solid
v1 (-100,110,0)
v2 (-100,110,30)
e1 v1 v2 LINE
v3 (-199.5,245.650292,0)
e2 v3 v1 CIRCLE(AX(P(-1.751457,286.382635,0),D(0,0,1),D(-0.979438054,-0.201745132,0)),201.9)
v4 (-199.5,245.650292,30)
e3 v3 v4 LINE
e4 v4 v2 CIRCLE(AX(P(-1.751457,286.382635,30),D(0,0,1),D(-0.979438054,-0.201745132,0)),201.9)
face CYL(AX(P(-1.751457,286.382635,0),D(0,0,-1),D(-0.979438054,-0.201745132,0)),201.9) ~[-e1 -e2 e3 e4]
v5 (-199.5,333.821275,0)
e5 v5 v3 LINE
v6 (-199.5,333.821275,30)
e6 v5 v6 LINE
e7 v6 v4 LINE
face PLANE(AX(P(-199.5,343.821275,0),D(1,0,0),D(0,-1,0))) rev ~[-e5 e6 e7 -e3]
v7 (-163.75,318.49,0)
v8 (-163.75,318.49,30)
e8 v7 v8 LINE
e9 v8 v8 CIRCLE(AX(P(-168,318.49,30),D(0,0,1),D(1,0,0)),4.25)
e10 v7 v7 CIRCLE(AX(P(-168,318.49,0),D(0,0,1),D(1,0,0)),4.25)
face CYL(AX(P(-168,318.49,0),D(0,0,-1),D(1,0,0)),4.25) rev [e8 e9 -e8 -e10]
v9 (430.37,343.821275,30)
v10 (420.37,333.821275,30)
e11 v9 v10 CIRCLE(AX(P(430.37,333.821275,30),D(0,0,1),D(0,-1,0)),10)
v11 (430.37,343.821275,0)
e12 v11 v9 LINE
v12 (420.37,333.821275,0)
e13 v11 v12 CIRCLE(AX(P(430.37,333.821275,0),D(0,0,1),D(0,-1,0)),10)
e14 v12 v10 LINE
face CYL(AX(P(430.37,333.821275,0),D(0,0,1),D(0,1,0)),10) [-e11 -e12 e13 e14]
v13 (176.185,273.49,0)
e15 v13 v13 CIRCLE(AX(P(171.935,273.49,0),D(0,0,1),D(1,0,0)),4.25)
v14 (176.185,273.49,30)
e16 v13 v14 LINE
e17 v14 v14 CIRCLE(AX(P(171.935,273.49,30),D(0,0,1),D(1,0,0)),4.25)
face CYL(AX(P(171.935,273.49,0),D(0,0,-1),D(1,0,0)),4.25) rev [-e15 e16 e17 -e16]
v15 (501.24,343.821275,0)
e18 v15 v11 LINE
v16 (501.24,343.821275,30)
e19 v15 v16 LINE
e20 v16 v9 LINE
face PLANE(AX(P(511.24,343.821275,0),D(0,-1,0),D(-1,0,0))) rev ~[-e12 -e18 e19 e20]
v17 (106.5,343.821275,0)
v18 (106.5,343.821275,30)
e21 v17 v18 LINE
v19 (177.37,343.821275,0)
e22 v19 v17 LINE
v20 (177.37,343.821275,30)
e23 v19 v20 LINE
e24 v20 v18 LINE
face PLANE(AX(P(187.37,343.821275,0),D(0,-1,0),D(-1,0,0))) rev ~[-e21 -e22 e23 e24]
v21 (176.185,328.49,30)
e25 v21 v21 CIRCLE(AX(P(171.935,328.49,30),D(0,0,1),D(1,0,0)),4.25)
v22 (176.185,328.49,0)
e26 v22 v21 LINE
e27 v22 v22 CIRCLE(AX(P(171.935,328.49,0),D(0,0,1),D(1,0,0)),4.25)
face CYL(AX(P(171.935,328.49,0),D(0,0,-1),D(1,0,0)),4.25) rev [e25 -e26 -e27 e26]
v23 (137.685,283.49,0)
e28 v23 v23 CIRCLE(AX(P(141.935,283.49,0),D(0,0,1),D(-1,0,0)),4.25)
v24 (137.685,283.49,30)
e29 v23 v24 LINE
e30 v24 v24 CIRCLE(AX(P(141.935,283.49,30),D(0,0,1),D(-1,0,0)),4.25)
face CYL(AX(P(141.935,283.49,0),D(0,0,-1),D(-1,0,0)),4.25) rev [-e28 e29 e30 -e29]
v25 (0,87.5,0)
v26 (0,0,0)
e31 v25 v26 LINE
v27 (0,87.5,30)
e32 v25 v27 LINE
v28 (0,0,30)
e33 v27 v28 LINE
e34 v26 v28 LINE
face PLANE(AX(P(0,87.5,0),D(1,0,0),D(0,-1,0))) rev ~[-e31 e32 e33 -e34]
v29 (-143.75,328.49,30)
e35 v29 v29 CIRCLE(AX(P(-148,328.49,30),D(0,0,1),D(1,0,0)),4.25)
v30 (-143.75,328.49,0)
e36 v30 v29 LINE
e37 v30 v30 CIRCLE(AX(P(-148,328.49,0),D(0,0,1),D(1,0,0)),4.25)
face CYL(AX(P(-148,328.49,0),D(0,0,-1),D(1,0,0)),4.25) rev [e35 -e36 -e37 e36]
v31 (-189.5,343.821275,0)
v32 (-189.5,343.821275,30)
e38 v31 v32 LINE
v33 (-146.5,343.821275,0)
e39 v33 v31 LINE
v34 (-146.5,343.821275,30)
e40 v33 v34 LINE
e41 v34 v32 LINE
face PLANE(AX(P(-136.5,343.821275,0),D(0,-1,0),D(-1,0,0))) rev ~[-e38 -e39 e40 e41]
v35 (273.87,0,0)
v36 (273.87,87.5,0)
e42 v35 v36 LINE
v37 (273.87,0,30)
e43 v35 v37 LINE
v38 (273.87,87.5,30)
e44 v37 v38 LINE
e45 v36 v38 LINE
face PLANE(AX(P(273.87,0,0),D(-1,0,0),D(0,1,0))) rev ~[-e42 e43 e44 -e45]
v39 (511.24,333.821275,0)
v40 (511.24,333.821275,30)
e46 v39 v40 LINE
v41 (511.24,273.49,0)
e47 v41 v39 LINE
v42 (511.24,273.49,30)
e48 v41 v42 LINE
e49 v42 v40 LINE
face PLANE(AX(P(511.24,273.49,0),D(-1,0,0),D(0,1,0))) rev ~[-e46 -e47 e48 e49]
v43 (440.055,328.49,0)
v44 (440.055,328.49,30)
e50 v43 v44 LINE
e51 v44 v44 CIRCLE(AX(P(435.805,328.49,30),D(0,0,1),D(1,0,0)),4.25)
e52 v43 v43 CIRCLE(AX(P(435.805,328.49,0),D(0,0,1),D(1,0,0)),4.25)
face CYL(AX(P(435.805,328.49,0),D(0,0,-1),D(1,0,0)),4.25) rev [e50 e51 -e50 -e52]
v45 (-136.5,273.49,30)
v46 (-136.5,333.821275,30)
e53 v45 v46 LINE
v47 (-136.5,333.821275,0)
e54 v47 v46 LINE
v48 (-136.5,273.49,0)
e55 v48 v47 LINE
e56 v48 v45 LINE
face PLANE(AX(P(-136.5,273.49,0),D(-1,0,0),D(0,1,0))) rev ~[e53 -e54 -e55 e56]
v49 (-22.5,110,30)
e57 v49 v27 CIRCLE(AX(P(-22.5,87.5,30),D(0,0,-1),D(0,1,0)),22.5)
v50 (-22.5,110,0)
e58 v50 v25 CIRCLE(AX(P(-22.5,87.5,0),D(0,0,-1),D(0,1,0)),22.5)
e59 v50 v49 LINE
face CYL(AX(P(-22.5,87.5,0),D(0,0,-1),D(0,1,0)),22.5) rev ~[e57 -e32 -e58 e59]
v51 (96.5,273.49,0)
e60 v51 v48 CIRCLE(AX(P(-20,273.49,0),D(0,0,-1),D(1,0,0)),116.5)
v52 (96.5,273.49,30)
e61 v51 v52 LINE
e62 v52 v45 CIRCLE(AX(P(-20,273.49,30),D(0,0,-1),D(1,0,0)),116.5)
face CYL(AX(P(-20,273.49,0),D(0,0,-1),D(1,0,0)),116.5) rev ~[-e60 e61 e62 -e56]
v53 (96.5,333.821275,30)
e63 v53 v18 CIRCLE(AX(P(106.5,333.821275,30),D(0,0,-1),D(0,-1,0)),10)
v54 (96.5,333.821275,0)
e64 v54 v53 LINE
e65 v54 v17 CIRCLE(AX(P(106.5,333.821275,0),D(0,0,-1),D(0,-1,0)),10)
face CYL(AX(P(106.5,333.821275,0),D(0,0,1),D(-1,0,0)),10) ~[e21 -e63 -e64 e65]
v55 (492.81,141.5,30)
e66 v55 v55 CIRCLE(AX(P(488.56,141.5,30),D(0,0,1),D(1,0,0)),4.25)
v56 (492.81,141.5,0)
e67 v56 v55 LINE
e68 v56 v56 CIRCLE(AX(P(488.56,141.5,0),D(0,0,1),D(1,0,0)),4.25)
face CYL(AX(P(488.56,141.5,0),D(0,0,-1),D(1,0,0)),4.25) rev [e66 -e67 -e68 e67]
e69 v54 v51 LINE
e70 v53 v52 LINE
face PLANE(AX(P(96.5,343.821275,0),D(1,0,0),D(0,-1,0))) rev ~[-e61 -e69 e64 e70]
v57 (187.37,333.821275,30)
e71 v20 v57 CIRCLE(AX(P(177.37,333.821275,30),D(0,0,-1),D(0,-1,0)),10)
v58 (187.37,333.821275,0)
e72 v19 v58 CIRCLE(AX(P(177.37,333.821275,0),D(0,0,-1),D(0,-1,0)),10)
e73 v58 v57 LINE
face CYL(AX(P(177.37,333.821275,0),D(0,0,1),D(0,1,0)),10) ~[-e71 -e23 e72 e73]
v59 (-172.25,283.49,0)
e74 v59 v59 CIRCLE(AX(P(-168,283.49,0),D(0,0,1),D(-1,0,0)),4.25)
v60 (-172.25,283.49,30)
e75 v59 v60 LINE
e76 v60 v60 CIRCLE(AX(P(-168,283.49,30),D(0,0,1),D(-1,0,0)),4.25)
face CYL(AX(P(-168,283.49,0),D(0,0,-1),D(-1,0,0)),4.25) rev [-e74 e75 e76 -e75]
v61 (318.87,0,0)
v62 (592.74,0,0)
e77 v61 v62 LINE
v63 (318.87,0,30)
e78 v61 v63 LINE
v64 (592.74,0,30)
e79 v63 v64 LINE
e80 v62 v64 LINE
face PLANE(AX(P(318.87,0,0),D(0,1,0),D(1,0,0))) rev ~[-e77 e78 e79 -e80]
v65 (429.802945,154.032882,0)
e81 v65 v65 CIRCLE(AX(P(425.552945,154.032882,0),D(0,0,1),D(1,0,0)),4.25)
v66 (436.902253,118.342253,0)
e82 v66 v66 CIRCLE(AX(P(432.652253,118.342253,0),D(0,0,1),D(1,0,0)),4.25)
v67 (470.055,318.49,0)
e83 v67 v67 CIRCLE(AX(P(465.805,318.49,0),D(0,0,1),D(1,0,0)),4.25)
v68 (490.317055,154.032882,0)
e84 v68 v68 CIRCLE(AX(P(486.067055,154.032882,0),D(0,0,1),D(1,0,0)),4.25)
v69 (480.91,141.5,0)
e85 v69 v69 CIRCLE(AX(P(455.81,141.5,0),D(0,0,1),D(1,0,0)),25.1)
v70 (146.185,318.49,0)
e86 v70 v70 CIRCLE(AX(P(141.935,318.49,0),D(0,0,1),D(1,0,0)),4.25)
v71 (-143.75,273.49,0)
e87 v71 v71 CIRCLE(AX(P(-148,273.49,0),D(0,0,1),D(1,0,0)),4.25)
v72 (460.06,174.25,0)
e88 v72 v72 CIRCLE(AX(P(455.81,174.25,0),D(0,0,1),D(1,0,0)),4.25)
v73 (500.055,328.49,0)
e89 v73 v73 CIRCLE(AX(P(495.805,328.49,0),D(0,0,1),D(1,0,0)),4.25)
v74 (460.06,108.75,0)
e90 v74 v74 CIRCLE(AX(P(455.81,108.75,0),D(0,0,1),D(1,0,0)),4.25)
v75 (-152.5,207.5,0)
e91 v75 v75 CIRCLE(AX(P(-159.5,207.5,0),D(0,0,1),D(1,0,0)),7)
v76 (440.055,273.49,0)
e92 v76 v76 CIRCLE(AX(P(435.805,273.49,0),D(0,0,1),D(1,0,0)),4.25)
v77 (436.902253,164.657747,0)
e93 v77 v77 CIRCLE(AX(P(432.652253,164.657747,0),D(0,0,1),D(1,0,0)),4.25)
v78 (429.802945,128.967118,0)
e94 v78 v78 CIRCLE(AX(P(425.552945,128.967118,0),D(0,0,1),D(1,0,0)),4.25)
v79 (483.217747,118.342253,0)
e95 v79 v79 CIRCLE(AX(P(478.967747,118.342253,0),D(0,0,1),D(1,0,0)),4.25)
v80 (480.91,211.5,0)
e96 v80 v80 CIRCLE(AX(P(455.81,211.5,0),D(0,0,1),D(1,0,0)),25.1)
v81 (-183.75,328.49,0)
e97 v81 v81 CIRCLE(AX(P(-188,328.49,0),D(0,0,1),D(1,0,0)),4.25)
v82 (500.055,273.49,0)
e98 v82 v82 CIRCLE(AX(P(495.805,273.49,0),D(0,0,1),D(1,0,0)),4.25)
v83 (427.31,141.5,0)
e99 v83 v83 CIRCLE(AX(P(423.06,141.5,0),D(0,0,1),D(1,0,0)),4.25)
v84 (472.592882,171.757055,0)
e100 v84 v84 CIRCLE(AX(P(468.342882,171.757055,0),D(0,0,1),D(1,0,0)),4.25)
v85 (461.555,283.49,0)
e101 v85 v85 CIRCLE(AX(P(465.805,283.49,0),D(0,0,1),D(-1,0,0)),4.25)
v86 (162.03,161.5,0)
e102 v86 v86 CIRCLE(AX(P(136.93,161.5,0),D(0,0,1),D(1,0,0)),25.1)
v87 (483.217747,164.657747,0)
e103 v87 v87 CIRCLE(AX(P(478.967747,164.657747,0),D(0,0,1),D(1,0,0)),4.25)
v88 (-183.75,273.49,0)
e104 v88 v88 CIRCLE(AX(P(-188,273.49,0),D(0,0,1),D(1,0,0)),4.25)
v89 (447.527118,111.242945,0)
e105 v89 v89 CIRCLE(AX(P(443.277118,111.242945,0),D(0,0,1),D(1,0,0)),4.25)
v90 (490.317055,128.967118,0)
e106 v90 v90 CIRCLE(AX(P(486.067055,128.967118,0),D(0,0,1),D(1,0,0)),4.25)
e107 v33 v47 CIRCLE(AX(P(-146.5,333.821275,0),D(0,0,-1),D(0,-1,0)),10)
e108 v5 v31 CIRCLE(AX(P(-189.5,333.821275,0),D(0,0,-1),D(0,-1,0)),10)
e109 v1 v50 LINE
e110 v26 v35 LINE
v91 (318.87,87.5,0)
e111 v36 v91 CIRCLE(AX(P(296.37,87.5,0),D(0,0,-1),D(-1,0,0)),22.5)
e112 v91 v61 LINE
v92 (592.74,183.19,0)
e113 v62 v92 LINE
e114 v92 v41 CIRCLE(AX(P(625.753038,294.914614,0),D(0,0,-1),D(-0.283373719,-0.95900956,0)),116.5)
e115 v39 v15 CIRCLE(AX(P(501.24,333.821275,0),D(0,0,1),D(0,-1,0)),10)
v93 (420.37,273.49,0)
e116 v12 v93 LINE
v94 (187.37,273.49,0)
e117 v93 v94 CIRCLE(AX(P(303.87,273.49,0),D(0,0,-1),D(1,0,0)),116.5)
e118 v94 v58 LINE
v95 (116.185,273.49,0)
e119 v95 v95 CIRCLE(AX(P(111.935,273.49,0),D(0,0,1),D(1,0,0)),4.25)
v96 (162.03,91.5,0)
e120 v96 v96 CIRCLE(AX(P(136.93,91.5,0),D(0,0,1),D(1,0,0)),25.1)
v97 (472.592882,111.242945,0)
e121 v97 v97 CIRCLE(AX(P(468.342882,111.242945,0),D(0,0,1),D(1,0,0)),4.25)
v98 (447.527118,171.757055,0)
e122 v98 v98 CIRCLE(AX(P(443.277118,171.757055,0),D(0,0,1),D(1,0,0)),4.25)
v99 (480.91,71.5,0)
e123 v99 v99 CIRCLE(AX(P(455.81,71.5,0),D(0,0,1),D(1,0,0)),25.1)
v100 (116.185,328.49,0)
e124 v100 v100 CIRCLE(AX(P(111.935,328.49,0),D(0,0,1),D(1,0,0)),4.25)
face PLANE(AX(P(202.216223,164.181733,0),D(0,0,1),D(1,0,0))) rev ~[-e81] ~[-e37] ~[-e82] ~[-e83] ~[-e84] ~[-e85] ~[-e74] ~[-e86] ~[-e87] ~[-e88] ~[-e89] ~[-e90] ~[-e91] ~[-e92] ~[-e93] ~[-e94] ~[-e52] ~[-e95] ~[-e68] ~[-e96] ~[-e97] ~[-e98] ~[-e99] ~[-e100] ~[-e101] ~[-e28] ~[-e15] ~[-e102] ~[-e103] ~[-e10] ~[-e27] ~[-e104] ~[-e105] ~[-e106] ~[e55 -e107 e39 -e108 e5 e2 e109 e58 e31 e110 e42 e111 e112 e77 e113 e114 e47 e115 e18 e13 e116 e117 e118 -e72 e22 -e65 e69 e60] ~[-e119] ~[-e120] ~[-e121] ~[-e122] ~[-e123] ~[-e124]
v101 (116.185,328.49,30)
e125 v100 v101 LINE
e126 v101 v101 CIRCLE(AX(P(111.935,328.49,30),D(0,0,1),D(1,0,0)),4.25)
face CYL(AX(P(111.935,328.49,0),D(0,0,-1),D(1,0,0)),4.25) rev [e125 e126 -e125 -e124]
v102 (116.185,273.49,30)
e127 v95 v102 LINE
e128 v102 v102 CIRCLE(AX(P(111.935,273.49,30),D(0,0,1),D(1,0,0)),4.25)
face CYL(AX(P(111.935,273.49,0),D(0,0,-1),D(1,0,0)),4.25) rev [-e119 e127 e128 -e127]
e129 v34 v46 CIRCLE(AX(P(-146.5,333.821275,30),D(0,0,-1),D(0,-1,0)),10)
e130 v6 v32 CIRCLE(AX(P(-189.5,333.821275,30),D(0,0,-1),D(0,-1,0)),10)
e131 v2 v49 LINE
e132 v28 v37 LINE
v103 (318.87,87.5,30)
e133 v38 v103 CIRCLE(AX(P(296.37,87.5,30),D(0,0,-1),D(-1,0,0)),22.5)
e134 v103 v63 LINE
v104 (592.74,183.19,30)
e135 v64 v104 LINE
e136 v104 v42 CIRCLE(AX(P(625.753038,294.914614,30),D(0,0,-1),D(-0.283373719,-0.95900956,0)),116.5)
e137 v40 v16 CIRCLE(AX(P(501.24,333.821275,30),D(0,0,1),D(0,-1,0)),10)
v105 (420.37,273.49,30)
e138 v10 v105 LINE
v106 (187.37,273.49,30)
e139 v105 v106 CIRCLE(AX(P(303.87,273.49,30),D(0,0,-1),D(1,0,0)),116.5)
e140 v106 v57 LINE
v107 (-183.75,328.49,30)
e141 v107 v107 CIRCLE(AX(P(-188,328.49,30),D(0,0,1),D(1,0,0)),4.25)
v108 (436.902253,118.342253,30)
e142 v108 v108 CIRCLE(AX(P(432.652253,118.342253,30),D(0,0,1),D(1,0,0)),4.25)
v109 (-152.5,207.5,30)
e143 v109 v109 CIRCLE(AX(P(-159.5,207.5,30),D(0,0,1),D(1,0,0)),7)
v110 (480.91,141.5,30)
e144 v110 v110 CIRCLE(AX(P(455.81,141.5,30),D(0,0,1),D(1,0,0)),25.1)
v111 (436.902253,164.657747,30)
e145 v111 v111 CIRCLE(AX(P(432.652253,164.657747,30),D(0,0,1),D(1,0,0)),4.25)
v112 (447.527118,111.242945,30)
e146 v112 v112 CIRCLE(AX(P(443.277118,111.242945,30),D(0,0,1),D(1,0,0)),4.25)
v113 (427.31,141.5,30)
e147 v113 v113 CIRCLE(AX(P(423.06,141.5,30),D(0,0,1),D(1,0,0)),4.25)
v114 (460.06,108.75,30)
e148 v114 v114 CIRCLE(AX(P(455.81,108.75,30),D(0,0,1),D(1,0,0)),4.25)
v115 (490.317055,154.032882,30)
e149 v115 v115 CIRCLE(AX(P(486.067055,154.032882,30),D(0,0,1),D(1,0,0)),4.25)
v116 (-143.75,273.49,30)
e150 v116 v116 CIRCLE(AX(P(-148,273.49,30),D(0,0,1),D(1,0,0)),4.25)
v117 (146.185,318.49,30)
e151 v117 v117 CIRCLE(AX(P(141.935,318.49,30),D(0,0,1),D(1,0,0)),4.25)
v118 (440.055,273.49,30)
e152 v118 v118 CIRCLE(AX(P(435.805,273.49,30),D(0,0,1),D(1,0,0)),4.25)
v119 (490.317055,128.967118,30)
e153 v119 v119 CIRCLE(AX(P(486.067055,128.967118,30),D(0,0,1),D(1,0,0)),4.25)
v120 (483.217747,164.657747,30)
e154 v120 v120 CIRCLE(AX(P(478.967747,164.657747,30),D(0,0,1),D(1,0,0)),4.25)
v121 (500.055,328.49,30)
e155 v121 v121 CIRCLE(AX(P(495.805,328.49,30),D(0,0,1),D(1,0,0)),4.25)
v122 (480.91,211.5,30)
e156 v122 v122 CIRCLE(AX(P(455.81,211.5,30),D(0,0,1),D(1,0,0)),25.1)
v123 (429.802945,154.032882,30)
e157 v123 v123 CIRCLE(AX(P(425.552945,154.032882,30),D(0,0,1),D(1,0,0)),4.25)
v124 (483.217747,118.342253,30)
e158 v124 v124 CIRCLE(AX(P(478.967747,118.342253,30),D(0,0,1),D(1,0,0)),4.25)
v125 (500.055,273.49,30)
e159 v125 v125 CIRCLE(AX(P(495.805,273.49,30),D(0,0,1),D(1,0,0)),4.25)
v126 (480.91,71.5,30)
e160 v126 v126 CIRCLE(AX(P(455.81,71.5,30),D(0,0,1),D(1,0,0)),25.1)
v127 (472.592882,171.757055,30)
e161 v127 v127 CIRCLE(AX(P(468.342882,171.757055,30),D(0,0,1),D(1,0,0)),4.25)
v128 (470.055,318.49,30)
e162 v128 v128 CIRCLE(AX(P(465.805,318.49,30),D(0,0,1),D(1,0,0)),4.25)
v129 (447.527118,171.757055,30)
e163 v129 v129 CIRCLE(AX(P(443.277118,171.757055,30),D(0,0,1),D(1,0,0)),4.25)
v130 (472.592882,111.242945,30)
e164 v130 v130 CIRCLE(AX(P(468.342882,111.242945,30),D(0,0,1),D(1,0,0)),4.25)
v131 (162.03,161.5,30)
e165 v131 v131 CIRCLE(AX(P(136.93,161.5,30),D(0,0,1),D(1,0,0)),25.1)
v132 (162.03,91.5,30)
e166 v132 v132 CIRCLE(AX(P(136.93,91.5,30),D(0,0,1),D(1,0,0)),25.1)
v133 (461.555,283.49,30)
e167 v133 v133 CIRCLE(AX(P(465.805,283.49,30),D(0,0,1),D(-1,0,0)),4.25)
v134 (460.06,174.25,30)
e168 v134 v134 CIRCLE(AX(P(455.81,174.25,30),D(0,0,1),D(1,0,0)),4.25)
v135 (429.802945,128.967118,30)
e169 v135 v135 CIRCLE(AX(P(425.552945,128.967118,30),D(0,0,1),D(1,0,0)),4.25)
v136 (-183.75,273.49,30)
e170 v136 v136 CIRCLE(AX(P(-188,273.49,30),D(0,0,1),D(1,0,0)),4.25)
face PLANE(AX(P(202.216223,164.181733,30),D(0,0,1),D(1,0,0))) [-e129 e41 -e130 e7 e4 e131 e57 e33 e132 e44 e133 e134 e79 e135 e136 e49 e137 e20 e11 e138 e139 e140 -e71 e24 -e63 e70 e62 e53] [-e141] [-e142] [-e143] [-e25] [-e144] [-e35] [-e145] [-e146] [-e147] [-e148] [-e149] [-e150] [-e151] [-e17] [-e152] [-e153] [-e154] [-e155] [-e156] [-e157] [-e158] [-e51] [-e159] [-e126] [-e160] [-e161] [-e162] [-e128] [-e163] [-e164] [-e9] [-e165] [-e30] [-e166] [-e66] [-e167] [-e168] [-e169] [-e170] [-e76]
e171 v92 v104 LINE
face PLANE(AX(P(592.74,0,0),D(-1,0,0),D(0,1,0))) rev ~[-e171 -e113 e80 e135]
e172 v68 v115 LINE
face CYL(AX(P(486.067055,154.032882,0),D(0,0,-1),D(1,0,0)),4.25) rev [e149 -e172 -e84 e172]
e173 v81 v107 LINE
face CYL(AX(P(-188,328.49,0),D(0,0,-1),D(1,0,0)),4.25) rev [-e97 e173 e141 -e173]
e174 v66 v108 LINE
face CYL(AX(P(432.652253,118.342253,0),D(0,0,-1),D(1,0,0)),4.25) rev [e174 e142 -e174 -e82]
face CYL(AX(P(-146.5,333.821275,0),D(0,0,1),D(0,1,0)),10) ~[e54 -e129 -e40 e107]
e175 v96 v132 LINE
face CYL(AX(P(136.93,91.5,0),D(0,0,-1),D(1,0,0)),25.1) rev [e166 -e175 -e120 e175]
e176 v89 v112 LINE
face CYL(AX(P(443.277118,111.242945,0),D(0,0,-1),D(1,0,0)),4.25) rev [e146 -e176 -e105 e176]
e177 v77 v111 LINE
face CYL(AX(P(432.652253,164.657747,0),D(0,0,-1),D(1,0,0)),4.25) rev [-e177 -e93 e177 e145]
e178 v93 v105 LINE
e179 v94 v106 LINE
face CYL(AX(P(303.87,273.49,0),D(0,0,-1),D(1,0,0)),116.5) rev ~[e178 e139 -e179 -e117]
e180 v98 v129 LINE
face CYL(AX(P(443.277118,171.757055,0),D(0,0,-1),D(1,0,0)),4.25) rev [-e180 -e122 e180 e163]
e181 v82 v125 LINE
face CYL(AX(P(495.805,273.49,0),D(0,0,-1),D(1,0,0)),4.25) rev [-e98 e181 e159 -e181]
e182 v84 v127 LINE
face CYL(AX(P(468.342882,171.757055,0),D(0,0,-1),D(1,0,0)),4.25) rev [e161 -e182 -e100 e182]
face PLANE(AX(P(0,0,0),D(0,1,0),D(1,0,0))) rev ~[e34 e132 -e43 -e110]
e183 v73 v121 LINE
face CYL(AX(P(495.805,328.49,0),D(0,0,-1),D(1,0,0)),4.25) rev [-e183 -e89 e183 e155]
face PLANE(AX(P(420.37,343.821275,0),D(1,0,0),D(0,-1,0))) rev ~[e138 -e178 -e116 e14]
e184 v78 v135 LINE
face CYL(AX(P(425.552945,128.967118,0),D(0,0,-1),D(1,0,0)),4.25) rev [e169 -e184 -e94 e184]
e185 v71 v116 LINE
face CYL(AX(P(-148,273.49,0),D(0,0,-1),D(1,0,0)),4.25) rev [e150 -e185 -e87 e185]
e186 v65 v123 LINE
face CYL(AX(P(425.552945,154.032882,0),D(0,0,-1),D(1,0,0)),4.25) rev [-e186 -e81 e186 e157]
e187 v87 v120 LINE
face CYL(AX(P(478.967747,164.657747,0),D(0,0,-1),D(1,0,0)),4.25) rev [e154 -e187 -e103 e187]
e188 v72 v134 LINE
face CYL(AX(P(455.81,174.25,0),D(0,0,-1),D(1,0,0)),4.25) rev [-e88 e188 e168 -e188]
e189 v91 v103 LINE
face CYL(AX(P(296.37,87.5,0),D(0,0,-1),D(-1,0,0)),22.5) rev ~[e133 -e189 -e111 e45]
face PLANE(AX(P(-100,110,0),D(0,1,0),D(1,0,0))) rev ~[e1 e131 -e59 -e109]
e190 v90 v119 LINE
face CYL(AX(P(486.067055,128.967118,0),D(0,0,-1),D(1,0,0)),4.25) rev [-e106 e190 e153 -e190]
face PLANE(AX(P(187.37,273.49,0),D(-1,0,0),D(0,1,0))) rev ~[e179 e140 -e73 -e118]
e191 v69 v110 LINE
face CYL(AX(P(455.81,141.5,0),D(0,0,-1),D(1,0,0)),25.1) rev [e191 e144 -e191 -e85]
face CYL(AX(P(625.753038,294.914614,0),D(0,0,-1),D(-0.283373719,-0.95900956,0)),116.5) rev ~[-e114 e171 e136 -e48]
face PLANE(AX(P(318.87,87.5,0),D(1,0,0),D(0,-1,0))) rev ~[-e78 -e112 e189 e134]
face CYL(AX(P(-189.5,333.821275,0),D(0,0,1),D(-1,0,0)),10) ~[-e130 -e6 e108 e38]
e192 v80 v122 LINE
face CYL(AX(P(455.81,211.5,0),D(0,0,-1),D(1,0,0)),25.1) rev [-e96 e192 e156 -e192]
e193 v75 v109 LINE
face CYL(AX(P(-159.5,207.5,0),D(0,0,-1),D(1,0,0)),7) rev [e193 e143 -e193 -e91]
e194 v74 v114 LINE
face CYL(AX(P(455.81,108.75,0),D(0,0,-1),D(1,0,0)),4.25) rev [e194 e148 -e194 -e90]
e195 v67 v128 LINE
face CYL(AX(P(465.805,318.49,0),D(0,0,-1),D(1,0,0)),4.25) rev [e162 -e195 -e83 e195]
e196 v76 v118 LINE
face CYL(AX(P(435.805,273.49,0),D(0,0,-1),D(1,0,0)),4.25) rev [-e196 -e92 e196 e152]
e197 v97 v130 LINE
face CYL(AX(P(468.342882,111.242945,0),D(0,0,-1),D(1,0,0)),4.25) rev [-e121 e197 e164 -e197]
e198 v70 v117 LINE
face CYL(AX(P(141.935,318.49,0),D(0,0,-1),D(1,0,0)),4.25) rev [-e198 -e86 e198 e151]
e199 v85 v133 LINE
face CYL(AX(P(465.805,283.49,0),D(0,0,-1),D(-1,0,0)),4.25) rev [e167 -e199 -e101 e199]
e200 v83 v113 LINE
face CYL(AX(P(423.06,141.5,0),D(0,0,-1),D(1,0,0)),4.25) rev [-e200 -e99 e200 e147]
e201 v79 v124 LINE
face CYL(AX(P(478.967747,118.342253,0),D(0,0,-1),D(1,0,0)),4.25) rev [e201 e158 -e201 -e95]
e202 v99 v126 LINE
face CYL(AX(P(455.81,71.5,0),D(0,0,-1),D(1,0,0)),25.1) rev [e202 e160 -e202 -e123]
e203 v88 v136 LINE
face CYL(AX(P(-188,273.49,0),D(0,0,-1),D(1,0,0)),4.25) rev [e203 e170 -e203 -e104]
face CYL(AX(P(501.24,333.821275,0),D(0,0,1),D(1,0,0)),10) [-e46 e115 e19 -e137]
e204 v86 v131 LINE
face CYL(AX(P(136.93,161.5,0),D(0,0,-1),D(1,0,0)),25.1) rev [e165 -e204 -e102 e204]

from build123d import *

# Parameters (mm, degrees)
SKETCH1_R           = 25.1
SKETCH1_R_2         = 4.25
SKETCH1_R_3         = 7
BOSS_EXTRUDE1_DEPTH = 30
FILLET1_R           = 10


with BuildPart() as part:
    # Sketch1 → Boss-Extrude1 (new body)
    with BuildSketch(Plane.XY):
        with BuildLine():
            Line((0, 0), (273.87, 0))
            Line((273.87, 0), (273.87, 87.5))
            ThreePointArc((273.87, 87.5), (296.37, 110), (318.87, 87.5))
            Line((318.87, 87.5), (318.87, 0))
            Line((318.87, 0), (592.74, 0))
            Line((592.74, 0), (592.74, 183.19))
            ThreePointArc((592.74, 183.19), (539.268887609, 216.858597344), (511.24, 273.49))
            Line((511.24, 273.49), (511.24, 343.821274963))
            Line((511.24, 343.821274963), (420.37, 343.821274963))
            Line((420.37, 343.821274963), (420.37, 273.49))
            ThreePointArc((420.37, 273.49), (303.87, 156.99), (187.37, 273.49))
            Line((187.37, 273.49), (187.37, 343.821274963))
            Line((187.37, 343.821274963), (96.5, 343.821274963))
            Line((96.5, 343.821274963), (96.5, 273.49))
            ThreePointArc((96.5, 273.49), (-20, 156.99), (-136.5, 273.49))
            Line((-136.5, 273.49), (-136.5, 343.821274963))
            Line((-136.5, 343.821274963), (-199.5, 343.821274963))
            Line((-199.5, 343.821274963), (-199.5, 245.650292451))
            ThreePointArc((-199.5, 245.650292451), (-164.551393078, 166.968268701), (-100, 110))
            Line((-100, 110), (-22.5, 110))
            ThreePointArc((-22.5, 110), (-6.590097423, 103.409902577), (0, 87.5))
            Line((0, 87.5), (0, 0))
        make_face()
        with Locations((455.81, 71.5)):
            Circle(SKETCH1_R, mode=Mode.SUBTRACT)
        with Locations((455.81, 211.5)):
            Circle(SKETCH1_R, mode=Mode.SUBTRACT)
        with Locations((136.93, 91.5)):
            Circle(SKETCH1_R, mode=Mode.SUBTRACT)
        with Locations((136.93, 161.5)):
            Circle(SKETCH1_R, mode=Mode.SUBTRACT)
        with Locations((-188, 328.49)):
            Circle(SKETCH1_R_2, mode=Mode.SUBTRACT)
        with Locations((-188, 273.49)):
            Circle(SKETCH1_R_2, mode=Mode.SUBTRACT)
        with Locations((-148, 328.49)):
            Circle(SKETCH1_R_2, mode=Mode.SUBTRACT)
        with Locations((-148, 273.49)):
            Circle(SKETCH1_R_2, mode=Mode.SUBTRACT)
        with Locations((111.935, 328.49)):
            Circle(SKETCH1_R_2, mode=Mode.SUBTRACT)
        with Locations((171.935, 328.49)):
            Circle(SKETCH1_R_2, mode=Mode.SUBTRACT)
        with Locations((171.935, 273.49)):
            Circle(SKETCH1_R_2, mode=Mode.SUBTRACT)
        with Locations((111.935, 273.49)):
            Circle(SKETCH1_R_2, mode=Mode.SUBTRACT)
        with Locations((495.805, 328.49)):
            Circle(SKETCH1_R_2, mode=Mode.SUBTRACT)
        with Locations((435.805, 328.49)):
            Circle(SKETCH1_R_2, mode=Mode.SUBTRACT)
        with Locations((495.805, 273.49)):
            Circle(SKETCH1_R_2, mode=Mode.SUBTRACT)
        with Locations((435.805, 273.49)):
            Circle(SKETCH1_R_2, mode=Mode.SUBTRACT)
        with Locations((-159.5, 207.5)):
            Circle(SKETCH1_R_3, mode=Mode.SUBTRACT)
        with Locations((-168, 318.49)):
            Circle(SKETCH1_R_2, mode=Mode.SUBTRACT)
        with Locations(Location((-168, 283.49, 0), (0, 0, 180))):
            Circle(SKETCH1_R_2, mode=Mode.SUBTRACT)
        with Locations((141.935, 318.49)):
            Circle(SKETCH1_R_2, mode=Mode.SUBTRACT)
        with Locations(Location((141.935, 283.49, 0), (0, 0, 180))):
            Circle(SKETCH1_R_2, mode=Mode.SUBTRACT)
        with Locations(Location((465.805, 283.49, 0), (0, 0, 180))):
            Circle(SKETCH1_R_2, mode=Mode.SUBTRACT)
        with Locations((465.805, 318.49)):
            Circle(SKETCH1_R_2, mode=Mode.SUBTRACT)
        with Locations((455.81, 141.5)):
            Circle(SKETCH1_R, mode=Mode.SUBTRACT)
        with Locations((455.81, 174.25)):
            Circle(SKETCH1_R_2, mode=Mode.SUBTRACT)
        with Locations((468.34288241, 171.75705469)):
            Circle(SKETCH1_R_2, mode=Mode.SUBTRACT)
        with Locations((478.967747084, 164.657747084)):
            Circle(SKETCH1_R_2, mode=Mode.SUBTRACT)
        with Locations((486.06705469, 154.03288241)):
            Circle(SKETCH1_R_2, mode=Mode.SUBTRACT)
        with Locations((488.56, 141.5)):
            Circle(SKETCH1_R_2, mode=Mode.SUBTRACT)
        with Locations((486.06705469, 128.96711759)):
            Circle(SKETCH1_R_2, mode=Mode.SUBTRACT)
        with Locations((478.967747084, 118.342252916)):
            Circle(SKETCH1_R_2, mode=Mode.SUBTRACT)
        with Locations((468.34288241, 111.24294531)):
            Circle(SKETCH1_R_2, mode=Mode.SUBTRACT)
        with Locations((455.81, 108.75)):
            Circle(SKETCH1_R_2, mode=Mode.SUBTRACT)
        with Locations((443.27711759, 111.24294531)):
            Circle(SKETCH1_R_2, mode=Mode.SUBTRACT)
        with Locations((432.652252916, 118.342252916)):
            Circle(SKETCH1_R_2, mode=Mode.SUBTRACT)
        with Locations((425.55294531, 128.96711759)):
            Circle(SKETCH1_R_2, mode=Mode.SUBTRACT)
        with Locations((423.06, 141.5)):
            Circle(SKETCH1_R_2, mode=Mode.SUBTRACT)
        with Locations((425.55294531, 154.03288241)):
            Circle(SKETCH1_R_2, mode=Mode.SUBTRACT)
        with Locations((432.652252916, 164.657747084)):
            Circle(SKETCH1_R_2, mode=Mode.SUBTRACT)
        with Locations((443.27711759, 171.75705469)):
            Circle(SKETCH1_R_2, mode=Mode.SUBTRACT)
    extrude(amount=BOSS_EXTRUDE1_DEPTH)

    # Fillet1
    fillet1_edges = [part.edges().sort_by_distance(p)[0] for p in [
        (-199.5, 343.821274963, 15),
        (-136.5, 343.821274963, 15),
        (96.5, 343.821274963, 15),
        (187.37, 343.821274963, 15),
        (420.37, 343.821274963, 15),
        (511.24, 343.821274963, 15),
    ]]
    fillet(fillet1_edges, radius=FILLET1_R)


solid = part.part
